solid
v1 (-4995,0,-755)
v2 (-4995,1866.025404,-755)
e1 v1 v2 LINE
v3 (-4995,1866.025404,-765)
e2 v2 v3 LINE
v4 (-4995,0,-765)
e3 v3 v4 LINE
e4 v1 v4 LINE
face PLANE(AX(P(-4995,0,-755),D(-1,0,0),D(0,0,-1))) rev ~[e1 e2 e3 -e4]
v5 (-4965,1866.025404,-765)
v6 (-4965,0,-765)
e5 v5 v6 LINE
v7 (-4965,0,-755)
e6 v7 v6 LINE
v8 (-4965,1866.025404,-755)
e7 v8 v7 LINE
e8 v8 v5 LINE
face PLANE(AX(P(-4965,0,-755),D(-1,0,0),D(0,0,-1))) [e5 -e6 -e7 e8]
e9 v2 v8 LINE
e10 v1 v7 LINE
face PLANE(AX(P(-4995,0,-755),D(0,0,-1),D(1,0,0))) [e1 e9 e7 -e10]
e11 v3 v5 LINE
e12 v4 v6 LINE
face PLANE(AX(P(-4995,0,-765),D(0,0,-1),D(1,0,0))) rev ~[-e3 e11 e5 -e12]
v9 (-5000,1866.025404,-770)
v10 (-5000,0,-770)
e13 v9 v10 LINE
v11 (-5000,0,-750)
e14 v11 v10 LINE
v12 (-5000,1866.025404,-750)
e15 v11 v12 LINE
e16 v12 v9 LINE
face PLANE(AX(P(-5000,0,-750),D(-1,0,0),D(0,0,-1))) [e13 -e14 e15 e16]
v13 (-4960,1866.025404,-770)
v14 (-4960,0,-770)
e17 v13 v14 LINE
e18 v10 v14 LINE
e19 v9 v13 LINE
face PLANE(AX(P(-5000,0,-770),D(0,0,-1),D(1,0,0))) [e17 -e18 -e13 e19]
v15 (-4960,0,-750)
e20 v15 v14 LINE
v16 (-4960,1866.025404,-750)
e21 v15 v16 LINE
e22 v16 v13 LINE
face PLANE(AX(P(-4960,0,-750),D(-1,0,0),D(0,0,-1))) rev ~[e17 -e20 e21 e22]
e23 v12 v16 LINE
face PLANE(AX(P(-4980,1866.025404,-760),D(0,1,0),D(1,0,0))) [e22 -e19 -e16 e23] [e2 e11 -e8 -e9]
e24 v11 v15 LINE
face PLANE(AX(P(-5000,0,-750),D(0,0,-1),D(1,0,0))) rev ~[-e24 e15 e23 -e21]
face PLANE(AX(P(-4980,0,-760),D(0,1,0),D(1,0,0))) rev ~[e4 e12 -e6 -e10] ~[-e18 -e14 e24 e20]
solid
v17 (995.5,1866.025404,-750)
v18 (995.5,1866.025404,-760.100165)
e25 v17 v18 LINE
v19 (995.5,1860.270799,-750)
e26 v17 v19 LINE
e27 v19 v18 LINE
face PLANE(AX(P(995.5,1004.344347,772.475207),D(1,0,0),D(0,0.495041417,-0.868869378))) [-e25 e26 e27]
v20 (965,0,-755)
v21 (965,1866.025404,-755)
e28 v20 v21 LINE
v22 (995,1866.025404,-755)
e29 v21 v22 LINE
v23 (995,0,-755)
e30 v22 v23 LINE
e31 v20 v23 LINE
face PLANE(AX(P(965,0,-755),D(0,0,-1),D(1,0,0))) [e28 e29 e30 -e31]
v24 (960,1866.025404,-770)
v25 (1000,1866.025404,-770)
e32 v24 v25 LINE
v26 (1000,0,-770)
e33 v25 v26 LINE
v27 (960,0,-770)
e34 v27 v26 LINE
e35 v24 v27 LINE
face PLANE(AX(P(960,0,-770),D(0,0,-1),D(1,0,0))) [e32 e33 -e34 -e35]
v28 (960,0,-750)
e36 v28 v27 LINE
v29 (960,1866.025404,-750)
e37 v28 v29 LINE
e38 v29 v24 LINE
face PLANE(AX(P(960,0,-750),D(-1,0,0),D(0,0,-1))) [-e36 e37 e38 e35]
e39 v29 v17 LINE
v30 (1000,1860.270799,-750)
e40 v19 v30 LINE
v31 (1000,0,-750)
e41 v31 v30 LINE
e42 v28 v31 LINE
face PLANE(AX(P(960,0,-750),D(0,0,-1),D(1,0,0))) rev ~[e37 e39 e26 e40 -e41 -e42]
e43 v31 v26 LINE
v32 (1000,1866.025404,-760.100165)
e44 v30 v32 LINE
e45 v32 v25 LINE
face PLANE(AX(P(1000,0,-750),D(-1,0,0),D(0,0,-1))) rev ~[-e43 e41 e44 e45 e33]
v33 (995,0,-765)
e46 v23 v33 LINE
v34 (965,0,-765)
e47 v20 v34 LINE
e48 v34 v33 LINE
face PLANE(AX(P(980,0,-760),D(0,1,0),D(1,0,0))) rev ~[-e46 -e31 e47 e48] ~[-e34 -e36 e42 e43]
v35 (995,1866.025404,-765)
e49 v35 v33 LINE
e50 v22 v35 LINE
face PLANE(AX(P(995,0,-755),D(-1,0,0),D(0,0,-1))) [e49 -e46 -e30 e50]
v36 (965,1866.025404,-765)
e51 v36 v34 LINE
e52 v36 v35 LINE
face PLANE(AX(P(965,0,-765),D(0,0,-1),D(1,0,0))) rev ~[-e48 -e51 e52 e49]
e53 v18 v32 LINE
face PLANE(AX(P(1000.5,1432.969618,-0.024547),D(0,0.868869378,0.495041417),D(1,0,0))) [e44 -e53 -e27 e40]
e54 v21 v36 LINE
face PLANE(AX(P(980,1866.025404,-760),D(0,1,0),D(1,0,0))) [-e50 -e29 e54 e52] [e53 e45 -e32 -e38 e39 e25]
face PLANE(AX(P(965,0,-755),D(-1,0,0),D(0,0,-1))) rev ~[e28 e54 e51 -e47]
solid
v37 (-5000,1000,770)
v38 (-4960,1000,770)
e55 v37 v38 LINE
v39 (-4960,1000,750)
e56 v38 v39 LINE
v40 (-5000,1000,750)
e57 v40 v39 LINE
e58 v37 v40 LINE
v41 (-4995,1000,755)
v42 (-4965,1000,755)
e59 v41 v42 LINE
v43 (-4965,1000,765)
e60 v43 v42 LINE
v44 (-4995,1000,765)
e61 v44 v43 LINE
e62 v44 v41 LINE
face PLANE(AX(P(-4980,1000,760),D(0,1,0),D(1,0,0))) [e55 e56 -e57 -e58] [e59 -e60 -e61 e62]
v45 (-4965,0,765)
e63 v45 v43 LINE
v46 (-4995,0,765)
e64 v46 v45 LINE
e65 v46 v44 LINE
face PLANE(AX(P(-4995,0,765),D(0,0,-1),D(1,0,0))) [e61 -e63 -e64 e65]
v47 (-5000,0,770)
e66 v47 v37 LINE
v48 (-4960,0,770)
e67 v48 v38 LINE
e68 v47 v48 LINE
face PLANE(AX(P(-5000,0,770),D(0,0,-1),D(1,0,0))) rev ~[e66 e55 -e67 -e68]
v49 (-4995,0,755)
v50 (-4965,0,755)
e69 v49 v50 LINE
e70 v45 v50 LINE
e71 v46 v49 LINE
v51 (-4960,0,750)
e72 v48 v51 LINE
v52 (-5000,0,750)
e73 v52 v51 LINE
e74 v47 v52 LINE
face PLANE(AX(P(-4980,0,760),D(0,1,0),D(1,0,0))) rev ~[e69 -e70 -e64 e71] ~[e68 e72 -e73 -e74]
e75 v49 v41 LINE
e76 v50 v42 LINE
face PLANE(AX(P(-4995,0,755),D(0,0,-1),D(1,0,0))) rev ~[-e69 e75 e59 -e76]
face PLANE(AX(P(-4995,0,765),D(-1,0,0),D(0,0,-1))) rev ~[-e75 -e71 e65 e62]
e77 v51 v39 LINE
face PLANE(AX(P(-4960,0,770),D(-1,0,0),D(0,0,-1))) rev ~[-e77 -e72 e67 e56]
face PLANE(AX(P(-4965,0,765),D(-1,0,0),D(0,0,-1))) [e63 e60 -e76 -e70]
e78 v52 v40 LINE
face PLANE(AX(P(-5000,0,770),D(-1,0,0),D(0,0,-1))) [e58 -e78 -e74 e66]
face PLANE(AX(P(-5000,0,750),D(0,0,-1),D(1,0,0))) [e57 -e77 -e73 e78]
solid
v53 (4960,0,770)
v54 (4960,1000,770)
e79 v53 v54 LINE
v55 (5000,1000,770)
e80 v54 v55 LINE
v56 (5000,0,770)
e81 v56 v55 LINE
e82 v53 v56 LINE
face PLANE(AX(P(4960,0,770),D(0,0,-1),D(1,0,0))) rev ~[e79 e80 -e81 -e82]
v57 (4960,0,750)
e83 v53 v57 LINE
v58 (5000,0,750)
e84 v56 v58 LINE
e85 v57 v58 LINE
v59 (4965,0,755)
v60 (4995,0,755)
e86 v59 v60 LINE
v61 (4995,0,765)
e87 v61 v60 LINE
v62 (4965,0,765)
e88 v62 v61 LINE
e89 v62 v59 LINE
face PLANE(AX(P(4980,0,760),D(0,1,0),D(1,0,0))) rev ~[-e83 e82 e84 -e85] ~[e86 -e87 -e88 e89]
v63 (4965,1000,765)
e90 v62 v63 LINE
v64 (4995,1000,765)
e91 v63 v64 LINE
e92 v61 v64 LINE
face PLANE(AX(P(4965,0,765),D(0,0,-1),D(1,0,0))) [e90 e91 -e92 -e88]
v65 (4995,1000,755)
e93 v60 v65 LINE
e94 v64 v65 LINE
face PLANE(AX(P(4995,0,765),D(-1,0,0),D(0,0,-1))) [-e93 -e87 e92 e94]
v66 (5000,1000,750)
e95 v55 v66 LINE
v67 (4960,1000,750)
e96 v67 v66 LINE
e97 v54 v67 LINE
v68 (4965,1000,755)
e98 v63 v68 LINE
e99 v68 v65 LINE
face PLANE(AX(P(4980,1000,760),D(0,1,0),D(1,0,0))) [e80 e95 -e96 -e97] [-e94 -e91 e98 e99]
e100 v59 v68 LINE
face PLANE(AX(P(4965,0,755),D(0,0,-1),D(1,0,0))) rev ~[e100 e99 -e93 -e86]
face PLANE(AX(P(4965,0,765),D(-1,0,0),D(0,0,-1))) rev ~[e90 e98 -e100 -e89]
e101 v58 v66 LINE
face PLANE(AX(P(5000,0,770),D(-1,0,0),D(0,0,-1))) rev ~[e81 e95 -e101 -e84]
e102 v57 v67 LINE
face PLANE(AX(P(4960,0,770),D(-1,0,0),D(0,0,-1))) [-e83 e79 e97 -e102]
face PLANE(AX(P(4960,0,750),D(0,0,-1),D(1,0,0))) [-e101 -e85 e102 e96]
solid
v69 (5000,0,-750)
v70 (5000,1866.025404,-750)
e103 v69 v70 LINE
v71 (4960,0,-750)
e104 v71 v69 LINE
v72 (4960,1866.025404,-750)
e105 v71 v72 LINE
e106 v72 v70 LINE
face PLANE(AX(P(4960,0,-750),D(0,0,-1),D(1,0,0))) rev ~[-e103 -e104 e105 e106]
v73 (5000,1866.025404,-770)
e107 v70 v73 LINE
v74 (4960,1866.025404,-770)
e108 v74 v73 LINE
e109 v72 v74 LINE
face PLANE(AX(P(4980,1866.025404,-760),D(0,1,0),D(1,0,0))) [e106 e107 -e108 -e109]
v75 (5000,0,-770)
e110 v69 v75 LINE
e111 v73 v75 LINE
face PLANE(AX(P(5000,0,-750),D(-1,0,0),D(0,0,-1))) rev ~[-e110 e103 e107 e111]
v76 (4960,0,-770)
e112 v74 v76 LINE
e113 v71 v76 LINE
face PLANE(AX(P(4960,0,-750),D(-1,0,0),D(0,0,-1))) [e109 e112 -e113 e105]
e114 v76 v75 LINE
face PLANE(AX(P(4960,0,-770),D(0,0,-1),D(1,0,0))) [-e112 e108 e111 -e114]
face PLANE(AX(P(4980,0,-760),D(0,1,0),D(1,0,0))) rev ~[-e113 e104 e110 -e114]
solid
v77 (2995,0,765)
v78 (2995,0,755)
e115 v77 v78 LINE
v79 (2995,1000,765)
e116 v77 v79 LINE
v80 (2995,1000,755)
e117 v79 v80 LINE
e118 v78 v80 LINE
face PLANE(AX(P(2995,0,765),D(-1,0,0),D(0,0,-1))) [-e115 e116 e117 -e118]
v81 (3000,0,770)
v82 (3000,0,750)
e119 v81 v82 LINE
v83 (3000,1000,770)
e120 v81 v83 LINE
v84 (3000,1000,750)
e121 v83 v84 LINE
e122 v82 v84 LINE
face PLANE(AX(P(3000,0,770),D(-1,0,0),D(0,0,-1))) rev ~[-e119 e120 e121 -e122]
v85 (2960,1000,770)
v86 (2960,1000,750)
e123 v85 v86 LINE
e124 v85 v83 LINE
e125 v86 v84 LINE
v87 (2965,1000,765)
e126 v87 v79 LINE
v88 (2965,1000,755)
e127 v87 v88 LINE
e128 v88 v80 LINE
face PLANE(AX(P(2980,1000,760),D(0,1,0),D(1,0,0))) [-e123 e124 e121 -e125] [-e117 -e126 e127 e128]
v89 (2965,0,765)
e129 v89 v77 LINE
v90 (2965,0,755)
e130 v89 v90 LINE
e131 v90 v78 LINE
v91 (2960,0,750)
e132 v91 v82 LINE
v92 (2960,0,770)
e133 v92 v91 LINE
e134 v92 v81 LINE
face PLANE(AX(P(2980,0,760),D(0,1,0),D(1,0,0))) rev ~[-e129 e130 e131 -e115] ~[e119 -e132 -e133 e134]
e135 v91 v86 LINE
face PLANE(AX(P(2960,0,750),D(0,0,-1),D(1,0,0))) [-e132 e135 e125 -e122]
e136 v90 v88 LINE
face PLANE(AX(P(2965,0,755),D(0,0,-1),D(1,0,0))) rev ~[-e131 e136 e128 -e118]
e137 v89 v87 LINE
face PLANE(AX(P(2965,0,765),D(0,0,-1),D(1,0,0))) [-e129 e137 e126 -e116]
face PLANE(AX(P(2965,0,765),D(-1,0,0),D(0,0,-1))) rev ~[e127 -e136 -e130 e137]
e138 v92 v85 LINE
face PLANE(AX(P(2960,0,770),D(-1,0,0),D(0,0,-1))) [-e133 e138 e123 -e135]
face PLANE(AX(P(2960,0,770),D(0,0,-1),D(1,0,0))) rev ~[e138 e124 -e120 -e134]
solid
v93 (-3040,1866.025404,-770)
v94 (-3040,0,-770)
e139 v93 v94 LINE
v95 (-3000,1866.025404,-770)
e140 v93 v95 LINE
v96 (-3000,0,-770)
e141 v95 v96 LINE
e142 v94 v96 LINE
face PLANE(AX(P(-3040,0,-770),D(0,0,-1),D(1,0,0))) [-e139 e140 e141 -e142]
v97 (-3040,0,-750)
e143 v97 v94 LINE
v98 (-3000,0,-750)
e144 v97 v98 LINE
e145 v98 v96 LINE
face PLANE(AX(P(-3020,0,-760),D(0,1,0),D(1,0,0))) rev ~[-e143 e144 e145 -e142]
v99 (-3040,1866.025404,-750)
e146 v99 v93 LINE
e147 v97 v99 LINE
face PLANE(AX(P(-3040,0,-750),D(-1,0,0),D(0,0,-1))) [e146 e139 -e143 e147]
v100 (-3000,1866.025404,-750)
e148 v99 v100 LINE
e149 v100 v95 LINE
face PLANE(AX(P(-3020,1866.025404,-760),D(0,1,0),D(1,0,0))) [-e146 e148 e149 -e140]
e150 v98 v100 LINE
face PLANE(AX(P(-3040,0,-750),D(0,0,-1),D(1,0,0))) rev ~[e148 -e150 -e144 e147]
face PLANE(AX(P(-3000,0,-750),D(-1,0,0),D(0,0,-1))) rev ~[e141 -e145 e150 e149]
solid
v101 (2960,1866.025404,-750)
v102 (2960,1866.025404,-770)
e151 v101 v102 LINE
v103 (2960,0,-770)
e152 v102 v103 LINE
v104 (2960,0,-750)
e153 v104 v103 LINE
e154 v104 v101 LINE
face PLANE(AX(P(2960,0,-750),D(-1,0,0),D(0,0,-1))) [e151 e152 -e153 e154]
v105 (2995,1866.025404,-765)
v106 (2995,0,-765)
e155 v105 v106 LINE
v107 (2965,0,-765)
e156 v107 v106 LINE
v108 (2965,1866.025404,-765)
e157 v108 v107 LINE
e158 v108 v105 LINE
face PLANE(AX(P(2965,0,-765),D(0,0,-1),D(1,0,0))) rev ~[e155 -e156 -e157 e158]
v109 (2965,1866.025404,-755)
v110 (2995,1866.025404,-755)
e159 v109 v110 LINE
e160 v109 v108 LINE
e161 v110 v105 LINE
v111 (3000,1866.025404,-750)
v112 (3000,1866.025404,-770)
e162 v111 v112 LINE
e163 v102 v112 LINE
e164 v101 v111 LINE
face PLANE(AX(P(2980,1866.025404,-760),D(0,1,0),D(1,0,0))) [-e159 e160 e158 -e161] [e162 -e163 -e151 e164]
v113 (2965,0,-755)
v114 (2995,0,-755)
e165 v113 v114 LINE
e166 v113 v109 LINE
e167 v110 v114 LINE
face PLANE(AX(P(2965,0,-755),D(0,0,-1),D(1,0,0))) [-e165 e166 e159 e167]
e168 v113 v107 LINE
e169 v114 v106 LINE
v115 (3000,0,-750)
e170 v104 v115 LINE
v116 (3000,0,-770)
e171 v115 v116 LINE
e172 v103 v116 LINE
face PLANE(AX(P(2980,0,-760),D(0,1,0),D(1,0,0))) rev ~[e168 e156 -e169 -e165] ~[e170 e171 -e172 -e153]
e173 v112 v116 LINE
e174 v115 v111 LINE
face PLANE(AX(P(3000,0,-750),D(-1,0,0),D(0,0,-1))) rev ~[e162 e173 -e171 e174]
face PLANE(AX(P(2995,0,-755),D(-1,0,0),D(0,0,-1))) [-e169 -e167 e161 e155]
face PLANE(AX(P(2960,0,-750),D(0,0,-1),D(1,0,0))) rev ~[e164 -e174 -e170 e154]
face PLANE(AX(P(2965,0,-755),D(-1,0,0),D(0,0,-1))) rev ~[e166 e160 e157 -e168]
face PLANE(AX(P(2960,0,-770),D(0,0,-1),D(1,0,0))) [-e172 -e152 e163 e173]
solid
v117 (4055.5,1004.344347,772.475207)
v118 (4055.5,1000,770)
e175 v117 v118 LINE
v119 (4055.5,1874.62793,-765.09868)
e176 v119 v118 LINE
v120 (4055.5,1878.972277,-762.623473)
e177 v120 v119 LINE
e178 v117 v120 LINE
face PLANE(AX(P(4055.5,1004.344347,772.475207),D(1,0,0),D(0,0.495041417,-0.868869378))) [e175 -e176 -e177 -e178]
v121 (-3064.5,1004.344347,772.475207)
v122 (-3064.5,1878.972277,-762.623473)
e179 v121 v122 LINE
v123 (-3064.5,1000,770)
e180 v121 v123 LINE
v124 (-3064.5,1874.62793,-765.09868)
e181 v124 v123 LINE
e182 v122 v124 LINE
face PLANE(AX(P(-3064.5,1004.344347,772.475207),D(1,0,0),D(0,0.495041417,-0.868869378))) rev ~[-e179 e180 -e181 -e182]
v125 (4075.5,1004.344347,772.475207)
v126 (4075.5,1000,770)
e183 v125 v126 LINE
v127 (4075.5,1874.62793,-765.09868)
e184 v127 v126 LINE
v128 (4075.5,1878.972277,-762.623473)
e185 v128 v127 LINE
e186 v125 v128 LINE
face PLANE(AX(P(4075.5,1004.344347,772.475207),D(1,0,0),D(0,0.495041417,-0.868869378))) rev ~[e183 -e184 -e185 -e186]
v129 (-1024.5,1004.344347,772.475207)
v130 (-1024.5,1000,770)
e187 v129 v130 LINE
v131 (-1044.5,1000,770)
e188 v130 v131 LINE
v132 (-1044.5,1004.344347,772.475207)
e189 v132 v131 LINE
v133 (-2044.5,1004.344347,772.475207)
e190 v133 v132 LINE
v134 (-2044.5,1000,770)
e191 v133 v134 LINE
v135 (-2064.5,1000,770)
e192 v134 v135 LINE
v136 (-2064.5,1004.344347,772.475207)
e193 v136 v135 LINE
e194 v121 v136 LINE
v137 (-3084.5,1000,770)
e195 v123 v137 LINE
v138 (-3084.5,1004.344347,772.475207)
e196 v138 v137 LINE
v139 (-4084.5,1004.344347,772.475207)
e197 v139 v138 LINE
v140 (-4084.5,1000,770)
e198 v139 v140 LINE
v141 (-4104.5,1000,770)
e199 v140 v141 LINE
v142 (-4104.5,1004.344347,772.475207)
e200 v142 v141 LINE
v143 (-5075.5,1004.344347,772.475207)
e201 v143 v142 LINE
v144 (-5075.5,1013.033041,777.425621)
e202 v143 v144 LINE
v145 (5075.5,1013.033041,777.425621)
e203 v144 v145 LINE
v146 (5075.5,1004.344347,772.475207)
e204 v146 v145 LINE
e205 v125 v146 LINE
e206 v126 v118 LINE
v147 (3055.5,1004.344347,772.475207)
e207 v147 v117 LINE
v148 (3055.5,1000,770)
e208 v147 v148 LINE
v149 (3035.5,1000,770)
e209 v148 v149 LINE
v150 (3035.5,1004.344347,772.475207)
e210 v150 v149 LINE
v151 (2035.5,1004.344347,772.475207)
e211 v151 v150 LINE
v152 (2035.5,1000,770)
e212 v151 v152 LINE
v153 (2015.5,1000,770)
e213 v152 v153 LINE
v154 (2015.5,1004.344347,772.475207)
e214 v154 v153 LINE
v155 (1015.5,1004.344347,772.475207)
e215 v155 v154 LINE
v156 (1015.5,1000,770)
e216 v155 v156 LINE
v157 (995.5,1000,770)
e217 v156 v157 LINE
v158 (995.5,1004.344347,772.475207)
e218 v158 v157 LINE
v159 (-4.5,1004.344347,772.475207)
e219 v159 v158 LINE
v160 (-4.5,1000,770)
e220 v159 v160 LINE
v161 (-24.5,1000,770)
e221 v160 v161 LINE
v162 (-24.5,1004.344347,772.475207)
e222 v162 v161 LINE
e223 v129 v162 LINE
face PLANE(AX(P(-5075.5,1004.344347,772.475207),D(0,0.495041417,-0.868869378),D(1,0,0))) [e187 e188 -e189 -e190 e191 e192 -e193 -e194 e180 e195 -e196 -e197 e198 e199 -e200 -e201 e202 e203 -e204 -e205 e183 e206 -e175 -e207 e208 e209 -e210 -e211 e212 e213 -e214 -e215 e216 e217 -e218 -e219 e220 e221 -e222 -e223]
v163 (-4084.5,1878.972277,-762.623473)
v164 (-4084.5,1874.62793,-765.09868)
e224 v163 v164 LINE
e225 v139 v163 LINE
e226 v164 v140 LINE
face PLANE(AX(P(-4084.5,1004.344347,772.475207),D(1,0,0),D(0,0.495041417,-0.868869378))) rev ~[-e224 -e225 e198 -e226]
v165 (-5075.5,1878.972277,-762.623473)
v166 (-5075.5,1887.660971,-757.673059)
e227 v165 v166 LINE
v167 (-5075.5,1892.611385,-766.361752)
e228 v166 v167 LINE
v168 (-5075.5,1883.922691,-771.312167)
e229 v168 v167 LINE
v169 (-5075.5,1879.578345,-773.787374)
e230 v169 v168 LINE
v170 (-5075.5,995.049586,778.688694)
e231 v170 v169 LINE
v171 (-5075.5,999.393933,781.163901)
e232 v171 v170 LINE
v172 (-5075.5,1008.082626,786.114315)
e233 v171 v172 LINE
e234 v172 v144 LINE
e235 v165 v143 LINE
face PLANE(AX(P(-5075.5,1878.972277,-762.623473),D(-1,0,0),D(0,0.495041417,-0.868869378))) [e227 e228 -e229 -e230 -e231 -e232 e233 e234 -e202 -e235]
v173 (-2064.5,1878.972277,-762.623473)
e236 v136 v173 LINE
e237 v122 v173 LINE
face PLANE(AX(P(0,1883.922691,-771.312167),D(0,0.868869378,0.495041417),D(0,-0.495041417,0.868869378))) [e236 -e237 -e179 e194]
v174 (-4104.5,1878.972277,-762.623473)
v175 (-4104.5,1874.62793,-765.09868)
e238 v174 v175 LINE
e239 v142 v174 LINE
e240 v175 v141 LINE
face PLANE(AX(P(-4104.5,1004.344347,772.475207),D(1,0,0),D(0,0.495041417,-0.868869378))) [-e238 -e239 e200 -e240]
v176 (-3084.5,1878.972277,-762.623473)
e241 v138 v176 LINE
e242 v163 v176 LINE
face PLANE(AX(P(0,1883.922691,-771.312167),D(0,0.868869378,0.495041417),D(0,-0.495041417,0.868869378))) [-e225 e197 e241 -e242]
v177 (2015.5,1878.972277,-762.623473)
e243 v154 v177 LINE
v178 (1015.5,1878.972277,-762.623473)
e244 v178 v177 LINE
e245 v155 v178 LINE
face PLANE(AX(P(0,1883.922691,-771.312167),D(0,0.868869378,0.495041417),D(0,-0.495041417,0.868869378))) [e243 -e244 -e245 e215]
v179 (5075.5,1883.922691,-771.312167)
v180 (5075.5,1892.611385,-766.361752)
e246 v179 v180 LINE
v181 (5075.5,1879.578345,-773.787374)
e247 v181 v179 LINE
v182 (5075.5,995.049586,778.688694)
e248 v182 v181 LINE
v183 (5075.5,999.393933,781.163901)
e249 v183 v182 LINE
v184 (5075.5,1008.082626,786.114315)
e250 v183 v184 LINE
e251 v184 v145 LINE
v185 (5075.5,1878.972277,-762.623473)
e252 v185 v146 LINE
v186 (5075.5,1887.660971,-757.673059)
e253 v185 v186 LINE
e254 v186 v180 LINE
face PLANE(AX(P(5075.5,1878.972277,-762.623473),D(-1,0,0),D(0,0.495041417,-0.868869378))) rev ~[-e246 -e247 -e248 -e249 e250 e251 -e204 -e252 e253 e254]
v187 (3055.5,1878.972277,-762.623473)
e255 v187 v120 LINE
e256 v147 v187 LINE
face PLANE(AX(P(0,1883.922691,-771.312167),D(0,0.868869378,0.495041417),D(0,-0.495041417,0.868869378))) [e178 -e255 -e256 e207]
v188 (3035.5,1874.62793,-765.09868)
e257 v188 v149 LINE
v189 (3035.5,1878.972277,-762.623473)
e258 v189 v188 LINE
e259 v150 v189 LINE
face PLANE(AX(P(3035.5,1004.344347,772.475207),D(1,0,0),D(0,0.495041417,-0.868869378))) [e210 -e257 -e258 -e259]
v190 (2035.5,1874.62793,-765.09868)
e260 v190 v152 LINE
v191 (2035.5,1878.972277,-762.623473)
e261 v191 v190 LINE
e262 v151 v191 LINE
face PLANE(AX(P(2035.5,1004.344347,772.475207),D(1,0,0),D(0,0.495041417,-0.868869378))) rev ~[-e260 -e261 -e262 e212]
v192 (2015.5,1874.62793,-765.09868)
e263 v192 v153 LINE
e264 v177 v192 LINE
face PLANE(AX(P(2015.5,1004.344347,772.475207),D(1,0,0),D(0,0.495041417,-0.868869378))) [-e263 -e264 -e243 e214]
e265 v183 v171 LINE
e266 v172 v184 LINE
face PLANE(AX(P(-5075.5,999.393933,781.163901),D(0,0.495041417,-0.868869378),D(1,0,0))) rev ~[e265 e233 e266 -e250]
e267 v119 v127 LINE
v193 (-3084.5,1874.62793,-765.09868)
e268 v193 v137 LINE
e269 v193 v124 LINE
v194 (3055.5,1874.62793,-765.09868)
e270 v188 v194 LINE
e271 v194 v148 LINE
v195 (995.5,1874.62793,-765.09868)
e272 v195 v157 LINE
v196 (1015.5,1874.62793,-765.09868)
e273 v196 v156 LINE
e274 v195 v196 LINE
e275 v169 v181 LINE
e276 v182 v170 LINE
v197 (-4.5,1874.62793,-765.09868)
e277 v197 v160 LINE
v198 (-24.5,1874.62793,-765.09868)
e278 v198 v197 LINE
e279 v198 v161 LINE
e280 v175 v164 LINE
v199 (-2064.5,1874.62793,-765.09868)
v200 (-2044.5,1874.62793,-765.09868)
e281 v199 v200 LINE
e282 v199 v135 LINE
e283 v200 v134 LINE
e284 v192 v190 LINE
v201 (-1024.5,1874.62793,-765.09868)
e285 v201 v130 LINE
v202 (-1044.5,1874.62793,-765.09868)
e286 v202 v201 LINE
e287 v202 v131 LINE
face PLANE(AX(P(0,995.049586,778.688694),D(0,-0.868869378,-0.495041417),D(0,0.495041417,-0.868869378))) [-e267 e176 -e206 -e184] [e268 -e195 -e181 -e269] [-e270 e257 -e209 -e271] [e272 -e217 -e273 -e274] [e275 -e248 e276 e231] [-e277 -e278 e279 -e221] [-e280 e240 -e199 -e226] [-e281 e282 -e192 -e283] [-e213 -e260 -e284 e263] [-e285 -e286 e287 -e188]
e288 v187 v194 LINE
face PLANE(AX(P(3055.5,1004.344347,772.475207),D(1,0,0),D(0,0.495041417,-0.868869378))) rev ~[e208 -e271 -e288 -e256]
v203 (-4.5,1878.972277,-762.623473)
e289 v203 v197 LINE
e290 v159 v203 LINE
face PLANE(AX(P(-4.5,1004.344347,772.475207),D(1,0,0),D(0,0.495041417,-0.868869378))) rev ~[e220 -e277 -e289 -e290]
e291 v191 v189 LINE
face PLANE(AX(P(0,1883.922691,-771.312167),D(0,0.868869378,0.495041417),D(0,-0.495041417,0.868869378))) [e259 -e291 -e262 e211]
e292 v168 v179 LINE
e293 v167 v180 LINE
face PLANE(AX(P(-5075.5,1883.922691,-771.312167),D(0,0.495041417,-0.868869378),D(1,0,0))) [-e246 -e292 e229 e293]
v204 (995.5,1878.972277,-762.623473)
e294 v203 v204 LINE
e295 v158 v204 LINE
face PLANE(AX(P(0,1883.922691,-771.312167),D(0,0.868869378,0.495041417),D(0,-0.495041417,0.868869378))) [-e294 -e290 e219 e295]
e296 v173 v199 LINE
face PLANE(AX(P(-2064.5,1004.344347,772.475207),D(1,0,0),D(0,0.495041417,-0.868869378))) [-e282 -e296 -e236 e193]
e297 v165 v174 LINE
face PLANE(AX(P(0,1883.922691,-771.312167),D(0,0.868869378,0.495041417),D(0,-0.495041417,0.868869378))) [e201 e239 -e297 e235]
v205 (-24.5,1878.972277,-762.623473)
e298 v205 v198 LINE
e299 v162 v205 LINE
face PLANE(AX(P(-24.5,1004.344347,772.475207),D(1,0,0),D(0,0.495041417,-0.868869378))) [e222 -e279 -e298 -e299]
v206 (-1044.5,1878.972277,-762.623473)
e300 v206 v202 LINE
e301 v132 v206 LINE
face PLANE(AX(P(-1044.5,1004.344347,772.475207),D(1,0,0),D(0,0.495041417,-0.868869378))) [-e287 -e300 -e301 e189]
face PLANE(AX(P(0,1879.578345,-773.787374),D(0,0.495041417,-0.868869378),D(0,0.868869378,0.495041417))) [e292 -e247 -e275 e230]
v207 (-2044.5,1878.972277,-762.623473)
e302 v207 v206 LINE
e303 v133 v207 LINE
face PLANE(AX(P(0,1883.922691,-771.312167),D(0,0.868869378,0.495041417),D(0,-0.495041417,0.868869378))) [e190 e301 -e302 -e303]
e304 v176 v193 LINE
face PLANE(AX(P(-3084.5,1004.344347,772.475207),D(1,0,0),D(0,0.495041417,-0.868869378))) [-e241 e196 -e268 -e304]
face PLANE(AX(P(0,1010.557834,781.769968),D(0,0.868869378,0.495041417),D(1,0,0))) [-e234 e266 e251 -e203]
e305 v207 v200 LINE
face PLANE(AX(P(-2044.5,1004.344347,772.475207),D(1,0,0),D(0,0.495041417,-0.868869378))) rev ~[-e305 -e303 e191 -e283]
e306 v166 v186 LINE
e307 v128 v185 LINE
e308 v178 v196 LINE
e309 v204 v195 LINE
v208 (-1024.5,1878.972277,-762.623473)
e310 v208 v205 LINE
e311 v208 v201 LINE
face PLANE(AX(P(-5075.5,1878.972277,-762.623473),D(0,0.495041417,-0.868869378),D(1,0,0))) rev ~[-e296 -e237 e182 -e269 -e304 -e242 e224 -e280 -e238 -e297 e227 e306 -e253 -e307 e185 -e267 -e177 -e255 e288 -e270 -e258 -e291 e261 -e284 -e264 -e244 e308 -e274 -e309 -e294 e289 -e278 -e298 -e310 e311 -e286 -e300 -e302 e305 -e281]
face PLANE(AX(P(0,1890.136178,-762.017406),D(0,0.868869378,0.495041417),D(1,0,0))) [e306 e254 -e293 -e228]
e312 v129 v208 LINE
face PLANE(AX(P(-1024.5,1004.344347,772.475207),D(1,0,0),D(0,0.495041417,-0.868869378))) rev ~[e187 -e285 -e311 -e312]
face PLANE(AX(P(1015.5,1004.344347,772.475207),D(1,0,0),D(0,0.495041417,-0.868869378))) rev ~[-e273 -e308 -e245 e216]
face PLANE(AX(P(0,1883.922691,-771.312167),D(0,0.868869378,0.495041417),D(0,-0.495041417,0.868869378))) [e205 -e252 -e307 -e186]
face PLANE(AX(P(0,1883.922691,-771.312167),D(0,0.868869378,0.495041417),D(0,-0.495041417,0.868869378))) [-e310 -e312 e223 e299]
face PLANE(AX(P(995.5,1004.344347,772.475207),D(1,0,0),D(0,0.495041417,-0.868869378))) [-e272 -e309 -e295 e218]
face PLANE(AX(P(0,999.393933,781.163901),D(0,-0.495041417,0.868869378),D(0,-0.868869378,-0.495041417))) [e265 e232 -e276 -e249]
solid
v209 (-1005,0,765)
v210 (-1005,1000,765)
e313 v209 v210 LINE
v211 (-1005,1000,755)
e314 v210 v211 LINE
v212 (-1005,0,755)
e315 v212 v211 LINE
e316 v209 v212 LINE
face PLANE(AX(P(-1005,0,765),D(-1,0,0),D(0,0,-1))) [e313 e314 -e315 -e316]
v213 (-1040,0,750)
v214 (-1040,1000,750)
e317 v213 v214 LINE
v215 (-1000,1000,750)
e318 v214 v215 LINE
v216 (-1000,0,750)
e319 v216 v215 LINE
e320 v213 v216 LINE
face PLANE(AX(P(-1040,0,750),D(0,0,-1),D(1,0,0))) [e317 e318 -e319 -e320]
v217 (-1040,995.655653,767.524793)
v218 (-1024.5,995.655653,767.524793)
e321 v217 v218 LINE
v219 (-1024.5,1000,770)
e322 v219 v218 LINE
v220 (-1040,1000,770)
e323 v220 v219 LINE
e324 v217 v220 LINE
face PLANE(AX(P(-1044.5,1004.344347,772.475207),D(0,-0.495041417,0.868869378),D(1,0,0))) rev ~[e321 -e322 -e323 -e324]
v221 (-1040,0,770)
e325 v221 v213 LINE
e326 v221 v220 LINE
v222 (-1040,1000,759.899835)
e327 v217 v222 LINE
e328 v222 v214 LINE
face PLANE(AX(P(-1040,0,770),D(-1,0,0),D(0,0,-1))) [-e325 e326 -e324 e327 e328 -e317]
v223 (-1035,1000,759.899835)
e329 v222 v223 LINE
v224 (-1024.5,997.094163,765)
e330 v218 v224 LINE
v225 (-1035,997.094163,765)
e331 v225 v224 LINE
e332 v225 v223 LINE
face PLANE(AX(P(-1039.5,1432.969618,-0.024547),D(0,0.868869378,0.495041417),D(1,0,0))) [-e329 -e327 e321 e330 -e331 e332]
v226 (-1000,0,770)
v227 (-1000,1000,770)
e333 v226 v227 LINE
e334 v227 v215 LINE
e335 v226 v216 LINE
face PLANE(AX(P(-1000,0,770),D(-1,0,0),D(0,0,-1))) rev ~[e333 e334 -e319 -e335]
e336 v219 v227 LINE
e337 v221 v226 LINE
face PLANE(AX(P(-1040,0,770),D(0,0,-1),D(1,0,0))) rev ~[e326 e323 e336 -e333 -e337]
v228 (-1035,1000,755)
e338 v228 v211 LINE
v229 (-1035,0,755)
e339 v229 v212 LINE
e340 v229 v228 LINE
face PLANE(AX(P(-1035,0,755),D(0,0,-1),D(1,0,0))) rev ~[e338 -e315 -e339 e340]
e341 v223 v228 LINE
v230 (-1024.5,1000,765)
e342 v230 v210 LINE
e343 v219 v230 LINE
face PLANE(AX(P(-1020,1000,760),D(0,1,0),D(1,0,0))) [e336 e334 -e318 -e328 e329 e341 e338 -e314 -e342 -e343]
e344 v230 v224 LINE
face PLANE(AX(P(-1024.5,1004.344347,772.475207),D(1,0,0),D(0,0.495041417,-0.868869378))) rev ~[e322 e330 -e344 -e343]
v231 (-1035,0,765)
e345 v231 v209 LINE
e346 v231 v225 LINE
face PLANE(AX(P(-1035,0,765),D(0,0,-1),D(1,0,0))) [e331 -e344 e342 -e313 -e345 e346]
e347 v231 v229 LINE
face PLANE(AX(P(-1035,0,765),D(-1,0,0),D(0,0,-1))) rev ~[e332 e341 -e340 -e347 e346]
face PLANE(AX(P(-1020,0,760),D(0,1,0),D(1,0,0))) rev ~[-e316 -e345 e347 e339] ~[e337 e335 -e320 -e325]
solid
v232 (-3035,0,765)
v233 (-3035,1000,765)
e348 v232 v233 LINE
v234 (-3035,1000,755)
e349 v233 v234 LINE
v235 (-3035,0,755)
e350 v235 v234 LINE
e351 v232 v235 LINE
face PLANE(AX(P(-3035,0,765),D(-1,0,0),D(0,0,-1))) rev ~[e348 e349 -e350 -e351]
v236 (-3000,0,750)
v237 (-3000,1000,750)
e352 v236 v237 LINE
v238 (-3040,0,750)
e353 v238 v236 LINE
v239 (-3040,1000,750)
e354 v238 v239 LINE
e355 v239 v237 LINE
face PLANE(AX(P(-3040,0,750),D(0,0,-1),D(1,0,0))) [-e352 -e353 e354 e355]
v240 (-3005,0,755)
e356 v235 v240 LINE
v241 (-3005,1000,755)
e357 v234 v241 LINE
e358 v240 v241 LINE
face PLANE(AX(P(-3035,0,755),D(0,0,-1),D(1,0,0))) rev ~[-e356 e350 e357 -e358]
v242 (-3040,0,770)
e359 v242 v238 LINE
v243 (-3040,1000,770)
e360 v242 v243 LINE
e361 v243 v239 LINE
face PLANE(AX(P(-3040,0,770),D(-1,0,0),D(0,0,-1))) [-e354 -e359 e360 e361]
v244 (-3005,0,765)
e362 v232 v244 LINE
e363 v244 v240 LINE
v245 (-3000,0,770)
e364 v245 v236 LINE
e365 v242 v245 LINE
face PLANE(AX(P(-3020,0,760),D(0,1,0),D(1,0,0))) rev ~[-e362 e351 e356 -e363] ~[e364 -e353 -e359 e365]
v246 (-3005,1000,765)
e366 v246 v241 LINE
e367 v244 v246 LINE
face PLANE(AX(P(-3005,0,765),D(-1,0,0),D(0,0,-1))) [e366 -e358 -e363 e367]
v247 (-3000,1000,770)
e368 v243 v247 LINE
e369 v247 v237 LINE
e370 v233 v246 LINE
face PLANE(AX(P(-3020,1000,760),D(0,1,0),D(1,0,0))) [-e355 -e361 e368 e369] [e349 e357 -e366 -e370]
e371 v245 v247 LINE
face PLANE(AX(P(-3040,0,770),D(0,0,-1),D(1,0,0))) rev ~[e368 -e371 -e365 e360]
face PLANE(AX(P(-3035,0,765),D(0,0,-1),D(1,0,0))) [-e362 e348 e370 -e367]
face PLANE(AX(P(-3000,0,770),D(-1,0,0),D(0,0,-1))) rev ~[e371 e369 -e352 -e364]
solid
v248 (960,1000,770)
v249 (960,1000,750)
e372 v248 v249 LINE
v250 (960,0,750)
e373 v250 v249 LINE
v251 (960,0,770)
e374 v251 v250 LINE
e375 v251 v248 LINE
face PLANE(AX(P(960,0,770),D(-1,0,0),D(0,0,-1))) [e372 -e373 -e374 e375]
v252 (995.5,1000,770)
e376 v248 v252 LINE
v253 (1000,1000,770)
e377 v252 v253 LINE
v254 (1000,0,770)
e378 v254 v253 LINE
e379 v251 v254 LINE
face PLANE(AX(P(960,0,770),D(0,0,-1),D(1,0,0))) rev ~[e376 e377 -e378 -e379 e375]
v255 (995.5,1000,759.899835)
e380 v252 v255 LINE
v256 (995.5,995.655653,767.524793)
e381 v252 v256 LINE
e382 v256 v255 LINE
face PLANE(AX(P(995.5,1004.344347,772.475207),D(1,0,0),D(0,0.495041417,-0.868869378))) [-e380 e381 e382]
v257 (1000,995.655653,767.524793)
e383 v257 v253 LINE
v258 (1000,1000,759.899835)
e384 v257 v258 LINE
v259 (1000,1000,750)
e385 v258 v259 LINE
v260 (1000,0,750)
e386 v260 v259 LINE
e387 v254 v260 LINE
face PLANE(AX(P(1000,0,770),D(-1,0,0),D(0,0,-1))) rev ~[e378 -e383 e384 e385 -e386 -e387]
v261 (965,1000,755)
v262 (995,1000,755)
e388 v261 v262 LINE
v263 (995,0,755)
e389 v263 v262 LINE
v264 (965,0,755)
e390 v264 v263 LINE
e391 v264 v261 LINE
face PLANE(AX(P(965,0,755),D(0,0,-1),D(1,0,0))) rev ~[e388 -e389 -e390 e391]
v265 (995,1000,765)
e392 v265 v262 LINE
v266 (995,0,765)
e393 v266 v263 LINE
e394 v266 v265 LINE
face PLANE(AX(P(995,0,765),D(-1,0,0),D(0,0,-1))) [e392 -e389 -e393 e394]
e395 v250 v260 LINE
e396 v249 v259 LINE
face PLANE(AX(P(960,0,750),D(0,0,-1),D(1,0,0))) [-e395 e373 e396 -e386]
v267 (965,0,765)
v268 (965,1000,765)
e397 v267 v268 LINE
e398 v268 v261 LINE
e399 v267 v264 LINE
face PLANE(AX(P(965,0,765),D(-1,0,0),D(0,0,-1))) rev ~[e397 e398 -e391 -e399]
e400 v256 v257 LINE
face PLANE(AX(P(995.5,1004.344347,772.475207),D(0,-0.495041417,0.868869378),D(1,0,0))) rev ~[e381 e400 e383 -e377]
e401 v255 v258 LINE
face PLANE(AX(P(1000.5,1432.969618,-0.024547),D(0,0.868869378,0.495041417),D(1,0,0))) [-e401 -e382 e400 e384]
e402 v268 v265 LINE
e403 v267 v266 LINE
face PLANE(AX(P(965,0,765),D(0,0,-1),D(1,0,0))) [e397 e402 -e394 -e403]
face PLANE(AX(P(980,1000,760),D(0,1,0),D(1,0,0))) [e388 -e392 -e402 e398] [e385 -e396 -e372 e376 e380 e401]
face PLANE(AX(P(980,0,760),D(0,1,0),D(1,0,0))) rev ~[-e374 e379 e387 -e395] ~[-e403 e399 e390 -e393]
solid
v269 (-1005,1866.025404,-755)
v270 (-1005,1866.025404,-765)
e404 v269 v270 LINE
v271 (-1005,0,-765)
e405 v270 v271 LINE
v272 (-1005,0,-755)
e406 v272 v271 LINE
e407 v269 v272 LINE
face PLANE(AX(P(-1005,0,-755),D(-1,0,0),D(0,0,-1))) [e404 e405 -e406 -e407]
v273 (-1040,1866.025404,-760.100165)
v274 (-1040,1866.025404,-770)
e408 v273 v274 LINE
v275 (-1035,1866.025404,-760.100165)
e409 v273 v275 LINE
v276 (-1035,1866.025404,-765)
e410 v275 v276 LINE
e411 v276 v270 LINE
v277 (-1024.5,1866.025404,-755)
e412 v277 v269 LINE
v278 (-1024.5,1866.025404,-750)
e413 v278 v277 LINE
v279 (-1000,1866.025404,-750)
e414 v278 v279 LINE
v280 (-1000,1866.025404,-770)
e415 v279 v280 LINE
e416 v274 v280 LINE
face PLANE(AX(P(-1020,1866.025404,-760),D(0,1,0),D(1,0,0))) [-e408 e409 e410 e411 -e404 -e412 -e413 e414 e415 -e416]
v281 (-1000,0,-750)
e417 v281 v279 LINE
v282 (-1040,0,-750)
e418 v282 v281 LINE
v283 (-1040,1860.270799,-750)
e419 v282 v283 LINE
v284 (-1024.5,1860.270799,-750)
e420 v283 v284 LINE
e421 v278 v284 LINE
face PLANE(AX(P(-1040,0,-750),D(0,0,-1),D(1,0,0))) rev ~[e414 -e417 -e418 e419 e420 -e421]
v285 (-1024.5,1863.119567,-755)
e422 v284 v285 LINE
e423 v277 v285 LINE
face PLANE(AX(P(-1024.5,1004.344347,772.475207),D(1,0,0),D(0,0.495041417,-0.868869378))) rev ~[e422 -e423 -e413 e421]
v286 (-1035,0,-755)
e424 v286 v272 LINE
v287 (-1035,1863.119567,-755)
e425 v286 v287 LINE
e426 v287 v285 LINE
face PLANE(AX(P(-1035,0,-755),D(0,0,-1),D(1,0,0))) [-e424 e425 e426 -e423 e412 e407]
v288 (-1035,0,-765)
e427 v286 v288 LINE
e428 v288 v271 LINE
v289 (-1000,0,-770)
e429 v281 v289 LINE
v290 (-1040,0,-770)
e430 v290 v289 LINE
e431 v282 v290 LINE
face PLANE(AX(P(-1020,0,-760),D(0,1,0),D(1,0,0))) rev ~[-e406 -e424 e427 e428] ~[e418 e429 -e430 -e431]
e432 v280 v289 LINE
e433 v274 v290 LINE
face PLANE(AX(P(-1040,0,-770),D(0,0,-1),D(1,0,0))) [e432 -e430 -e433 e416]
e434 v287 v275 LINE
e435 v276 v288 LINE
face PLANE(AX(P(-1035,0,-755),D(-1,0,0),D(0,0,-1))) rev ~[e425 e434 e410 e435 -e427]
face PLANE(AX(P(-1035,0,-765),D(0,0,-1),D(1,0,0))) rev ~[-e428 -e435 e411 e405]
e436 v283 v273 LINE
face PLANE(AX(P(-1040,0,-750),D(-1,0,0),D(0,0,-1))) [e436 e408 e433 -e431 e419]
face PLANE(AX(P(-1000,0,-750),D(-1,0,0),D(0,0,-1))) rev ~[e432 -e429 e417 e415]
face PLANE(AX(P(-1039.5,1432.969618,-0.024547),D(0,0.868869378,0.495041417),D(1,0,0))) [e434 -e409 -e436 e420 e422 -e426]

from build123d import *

# Parameters (mm, degrees)
SKETCH1_W              = 40
SKETCH1_H              = 20
SKETCH1_W_2            = 30
SKETCH1_H_2            = 10
BOSS_EXTRUDE1_DEPTH    = 1000
BOSS_EXTRUDE1_2_DEPTH  = 1000
BOSS_EXTRUDE1_3_DEPTH  = 1000
BOSS_EXTRUDE1_4_DEPTH  = 1000
BOSS_EXTRUDE1_5_DEPTH  = 1000
BOSS_EXTRUDE1_6_DEPTH  = 1000
BOSS_EXTRUDE1_7_DEPTH  = 1000
BOSS_EXTRUDE1_8_DEPTH  = 1000
BOSS_EXTRUDE1_9_DEPTH  = 1000
BOSS_EXTRUDE1_10_DEPTH = 1000
BOSS_EXTRUDE1_11_DEPTH = 1000
BOSS_EXTRUDE1_12_DEPTH = 1000
SKETCH1_2_W            = 40
SKETCH1_2_H            = 20
SKETCH1_2_W_2          = 30
SKETCH1_2_H_2          = 10
BOSS_EXTRUDE2_DEPTH    = 1866.025404
BOSS_EXTRUDE3_DEPTH    = 5075.5
SKETCH5_W              = 10
SKETCH5_H              = 1766.777284662
CUT_EXTRUDE1_DEPTH     = 10
SKETCH7_W              = 10151
SKETCH7_H              = 10
BOSS_EXTRUDE4_DEPTH    = 10


with BuildPart() as part:
    # Sketch1 → Boss-Extrude1 (new body)
    with BuildSketch(Plane(origin=(0, 0, 0), x_dir=(1, 0, 0), z_dir=(0, 1, 0))):
        with Locations((4980, 760)):
            Rectangle(SKETCH1_W, SKETCH1_H)
        with Locations((4980, 760)):
            Rectangle(SKETCH1_W_2, SKETCH1_H_2, mode=Mode.SUBTRACT)
    extrude(amount=BOSS_EXTRUDE1_DEPTH)



with BuildPart() as body_2:
    # Sketch1 → Boss-Extrude1 2 (new body)
    with BuildSketch(Plane(origin=(0, 0, 0), x_dir=(1, 0, 0), z_dir=(0, 1, 0))):
        with Locations((4980, -760)):
            Rectangle(SKETCH1_W, SKETCH1_H)
        with Locations((4980, -760)):
            Rectangle(SKETCH1_W_2, SKETCH1_H_2, mode=Mode.SUBTRACT)
    extrude(amount=BOSS_EXTRUDE1_2_DEPTH)


with BuildPart() as body_3:
    # Sketch1 → Boss-Extrude1 3 (new body)
    with BuildSketch(Plane(origin=(0, 0, 0), x_dir=(1, 0, 0), z_dir=(0, 1, 0))):
        with Locations((-4980, -760)):
            Rectangle(SKETCH1_W, SKETCH1_H)
        with Locations((-4980, -760)):
            Rectangle(SKETCH1_W_2, SKETCH1_H_2, mode=Mode.SUBTRACT)
    extrude(amount=BOSS_EXTRUDE1_3_DEPTH)


with BuildPart() as body_4:
    # Sketch1 → Boss-Extrude1 4 (new body)
    with BuildSketch(Plane(origin=(0, 0, 0), x_dir=(1, 0, 0), z_dir=(0, 1, 0))):
        with Locations((-4980, 760)):
            Rectangle(SKETCH1_W, SKETCH1_H)
        with Locations((-4980, 760)):
            Rectangle(SKETCH1_W_2, SKETCH1_H_2, mode=Mode.SUBTRACT)
    extrude(amount=BOSS_EXTRUDE1_4_DEPTH)


with BuildPart() as body_5:
    # Sketch1 → Boss-Extrude1 5 (new body)
    with BuildSketch(Plane(origin=(0, 0, 0), x_dir=(1, 0, 0), z_dir=(0, 1, 0))):
        with Locations((2980, 760)):
            Rectangle(SKETCH1_W, SKETCH1_H)
        with Locations((2980, 760)):
            Rectangle(SKETCH1_W_2, SKETCH1_H_2, mode=Mode.SUBTRACT)
    extrude(amount=BOSS_EXTRUDE1_5_DEPTH)


with BuildPart() as body_6:
    # Sketch1 → Boss-Extrude1 6 (new body)
    with BuildSketch(Plane(origin=(0, 0, 0), x_dir=(1, 0, 0), z_dir=(0, 1, 0))):
        with Locations((2980, -760)):
            Rectangle(SKETCH1_W, SKETCH1_H)
        with Locations((2980, -760)):
            Rectangle(SKETCH1_W_2, SKETCH1_H_2, mode=Mode.SUBTRACT)
    extrude(amount=BOSS_EXTRUDE1_6_DEPTH)


with BuildPart() as body_7:
    # Sketch1 → Boss-Extrude1 7 (new body)
    with BuildSketch(Plane(origin=(0, 0, 0), x_dir=(1, 0, 0), z_dir=(0, 1, 0))):
        with Locations((980, 760)):
            Rectangle(SKETCH1_W, SKETCH1_H)
        with Locations((980, 760)):
            Rectangle(SKETCH1_W_2, SKETCH1_H_2, mode=Mode.SUBTRACT)
    extrude(amount=BOSS_EXTRUDE1_7_DEPTH)


with BuildPart() as body_8:
    # Sketch1 → Boss-Extrude1 8 (new body)
    with BuildSketch(Plane(origin=(0, 0, 0), x_dir=(1, 0, 0), z_dir=(0, 1, 0))):
        with Locations((980, -760)):
            Rectangle(SKETCH1_W, SKETCH1_H)
        with Locations((980, -760)):
            Rectangle(SKETCH1_W_2, SKETCH1_H_2, mode=Mode.SUBTRACT)
    extrude(amount=BOSS_EXTRUDE1_8_DEPTH)


with BuildPart() as body_9:
    # Sketch1 → Boss-Extrude1 9 (new body)
    with BuildSketch(Plane(origin=(0, 0, 0), x_dir=(1, 0, 0), z_dir=(0, 1, 0))):
        with Locations((-1020, 760)):
            Rectangle(SKETCH1_W, SKETCH1_H)
        with Locations((-1020, 760)):
            Rectangle(SKETCH1_W_2, SKETCH1_H_2, mode=Mode.SUBTRACT)
    extrude(amount=BOSS_EXTRUDE1_9_DEPTH)


with BuildPart() as body_10:
    # Sketch1 → Boss-Extrude1 10 (new body)
    with BuildSketch(Plane(origin=(0, 0, 0), x_dir=(1, 0, 0), z_dir=(0, 1, 0))):
        with Locations((-1020, -760)):
            Rectangle(SKETCH1_W, SKETCH1_H)
        with Locations((-1020, -760)):
            Rectangle(SKETCH1_W_2, SKETCH1_H_2, mode=Mode.SUBTRACT)
    extrude(amount=BOSS_EXTRUDE1_10_DEPTH)


with BuildPart() as body_11:
    # Sketch1 → Boss-Extrude1 11 (new body)
    with BuildSketch(Plane(origin=(0, 0, 0), x_dir=(1, 0, 0), z_dir=(0, 1, 0))):
        with Locations((-3020, 760)):
            Rectangle(SKETCH1_W, SKETCH1_H)
        with Locations((-3020, 760)):
            Rectangle(SKETCH1_W_2, SKETCH1_H_2, mode=Mode.SUBTRACT)
    extrude(amount=BOSS_EXTRUDE1_11_DEPTH)


with BuildPart() as body_12:
    # Sketch1 → Boss-Extrude1 12 (new body)
    with BuildSketch(Plane(origin=(0, 0, 0), x_dir=(1, 0, 0), z_dir=(0, 1, 0))):
        with Locations((-3020, -760)):
            Rectangle(SKETCH1_W, SKETCH1_H)
        with Locations((-3020, -760)):
            Rectangle(SKETCH1_W_2, SKETCH1_H_2, mode=Mode.SUBTRACT)
    extrude(amount=BOSS_EXTRUDE1_12_DEPTH)


with BuildPart() as part_1:
    add(part.part)

    add(body_4.part)  # Boss-Extrude2 merges body 4

    add(body_5.part)  # Boss-Extrude2 merges body 5

    add(body_7.part)  # Boss-Extrude2 merges body 7

    add(body_9.part)  # Boss-Extrude2 merges body 9

    add(body_11.part)  # Boss-Extrude2 merges body 11
    # Sketch1<2> → Boss-Extrude2 (add)
    # profile 1 of 6: a face of its own
    with BuildSketch(Plane(origin=(0, 0, 0), x_dir=(1, 0, 0), z_dir=(0, 1, 0))):
        with Locations((-4980, 760)):
            Rectangle(SKETCH1_2_W, SKETCH1_2_H)
        with Locations((-4980, 760)):
            Rectangle(SKETCH1_2_W_2, SKETCH1_2_H_2, mode=Mode.SUBTRACT)
    # profile 2 of 6: a face of its own
    with BuildSketch(Plane(origin=(0, 0, 0), x_dir=(1, 0, 0), z_dir=(0, 1, 0))):
        with Locations((-1020, 760)):
            Rectangle(SKETCH1_2_W, SKETCH1_2_H)
        with Locations((-1020, 760)):
            Rectangle(SKETCH1_2_W_2, SKETCH1_2_H_2, mode=Mode.SUBTRACT)
    # profile 3 of 6: a face of its own
    with BuildSketch(Plane(origin=(0, 0, 0), x_dir=(1, 0, 0), z_dir=(0, 1, 0))):
        with Locations((980, 760)):
            Rectangle(SKETCH1_2_W, SKETCH1_2_H)
        with Locations((980, 760)):
            Rectangle(SKETCH1_2_W_2, SKETCH1_2_H_2, mode=Mode.SUBTRACT)
    # profile 4 of 6: a face of its own
    with BuildSketch(Plane(origin=(0, 0, 0), x_dir=(1, 0, 0), z_dir=(0, 1, 0))):
        with Locations((2980, 760)):
            Rectangle(SKETCH1_2_W, SKETCH1_2_H)
        with Locations((2980, 760)):
            Rectangle(SKETCH1_2_W_2, SKETCH1_2_H_2, mode=Mode.SUBTRACT)
    # profile 5 of 6: a face of its own
    with BuildSketch(Plane(origin=(0, 0, 0), x_dir=(1, 0, 0), z_dir=(0, 1, 0))):
        with Locations((4980, 760)):
            Rectangle(SKETCH1_2_W, SKETCH1_2_H)
    # profile 6 of 6: a face of its own
    with BuildSketch(Plane(origin=(0, 0, 0), x_dir=(1, 0, 0), z_dir=(0, 1, 0))):
        with Locations((-3020, 760)):
            Rectangle(SKETCH1_2_W, SKETCH1_2_H)
    extrude(amount=BOSS_EXTRUDE2_DEPTH)


with BuildPart() as body_8_2:
    # Sketch4 → Boss-Extrude3 (new, symmetric)
    with BuildSketch(Plane(origin=(0, 0, 0), x_dir=(0, 0, -1), z_dir=(1, 0, 0))):
        Polygon((-778.688693777, 995.049585831), (773.787373688, 1879.57834451), (771.312166604, 1883.922691399), (-781.163900862, 999.39393272), align=None)
    extrude(amount=BOSS_EXTRUDE3_DEPTH, both=True)


with BuildPart() as cut_extrude1_tool:
    # Sketch5 → Cut-Extrude1 (new body)
    with BuildSketch(Plane(origin=(0, 1090.475614889, 621.302358356), x_dir=(1, 0, 0), z_dir=(0, 0.8688693777295536, 0.4950414168974737))):
        with Locations((4070.5, 709.400638377)):
            Rectangle(SKETCH5_W, SKETCH5_H)
        with Locations((4060.5, 709.400638377)):
            Rectangle(SKETCH5_W, SKETCH5_H)
        with Locations((3040.5, 709.400638377)):
            Rectangle(SKETCH5_W, SKETCH5_H)
        with Locations((3050.5, 709.400638377)):
            Rectangle(SKETCH5_W, SKETCH5_H)
        with Locations((2020.5, 709.400638377)):
            Rectangle(SKETCH5_W, SKETCH5_H)
        with Locations((2030.5, 709.400638377)):
            Rectangle(SKETCH5_W, SKETCH5_H)
        with Locations((1000.5, 709.400638377)):
            Rectangle(SKETCH5_W, SKETCH5_H)
        with Locations((1010.5, 709.400638377)):
            Rectangle(SKETCH5_W, SKETCH5_H)
        with Locations((-19.5, 709.400638377)):
            Rectangle(SKETCH5_W, SKETCH5_H)
        with Locations((-9.5, 709.400638377)):
            Rectangle(SKETCH5_W, SKETCH5_H)
        with Locations((-1039.5, 709.400638377)):
            Rectangle(SKETCH5_W, SKETCH5_H)
        with Locations((-1029.5, 709.400638377)):
            Rectangle(SKETCH5_W, SKETCH5_H)
        with Locations((-2059.5, 709.400638377)):
            Rectangle(SKETCH5_W, SKETCH5_H)
        with Locations((-2049.5, 709.400638377)):
            Rectangle(SKETCH5_W, SKETCH5_H)
        with Locations((-3079.5, 709.400638377)):
            Rectangle(SKETCH5_W, SKETCH5_H)
        with Locations((-3069.5, 709.400638377)):
            Rectangle(SKETCH5_W, SKETCH5_H)
        with Locations((-4099.5, 709.400638377)):
            Rectangle(SKETCH5_W, SKETCH5_H)
        with Locations((-4089.5, 709.400638377)):
            Rectangle(SKETCH5_W, SKETCH5_H)
        with Locations((-5119.5, 709.400638377)):
            Rectangle(SKETCH5_W, SKETCH5_H)
        with Locations((-5109.5, 709.400638377)):
            Rectangle(SKETCH5_W, SKETCH5_H)
    extrude(amount=-CUT_EXTRUDE1_DEPTH)


with BuildPart() as part_2:
    add(part_1.part)

    # Cut-Extrude1: cut by cut_extrude1_tool
    add(cut_extrude1_tool.part, mode=Mode.SUBTRACT)


with BuildPart() as body_8_1:
    add(body_8.part)

    # Cut-Extrude1: cut by cut_extrude1_tool
    add(cut_extrude1_tool.part, mode=Mode.SUBTRACT)


with BuildPart() as body_10_1:
    add(body_10.part)

    # Cut-Extrude1: cut by cut_extrude1_tool
    add(cut_extrude1_tool.part, mode=Mode.SUBTRACT)


with BuildPart() as body_8_2_1:
    add(body_8_2.part)

    # Cut-Extrude1: cut by cut_extrude1_tool
    add(cut_extrude1_tool.part, mode=Mode.SUBTRACT)

    # Sketch7 → Boss-Extrude4 (add)
    with BuildSketch(Plane(origin=(0, 1090.475614889, 621.302358356), x_dir=(1, 0, 0), z_dir=(0, 0.8688693777295536, 0.4950414168974737))):
        with Locations((0, 1597.789280708)):
            Rectangle(SKETCH7_W, SKETCH7_H)
        with Locations((0, -178.988003954)):
            Rectangle(SKETCH7_W, SKETCH7_H)
    extrude(amount=BOSS_EXTRUDE4_DEPTH)


solid = Compound([body_2.part, body_3.part, body_6.part, body_12.part, part_2.part, body_8_1.part, body_10_1.part, body_8_2_1.part])
